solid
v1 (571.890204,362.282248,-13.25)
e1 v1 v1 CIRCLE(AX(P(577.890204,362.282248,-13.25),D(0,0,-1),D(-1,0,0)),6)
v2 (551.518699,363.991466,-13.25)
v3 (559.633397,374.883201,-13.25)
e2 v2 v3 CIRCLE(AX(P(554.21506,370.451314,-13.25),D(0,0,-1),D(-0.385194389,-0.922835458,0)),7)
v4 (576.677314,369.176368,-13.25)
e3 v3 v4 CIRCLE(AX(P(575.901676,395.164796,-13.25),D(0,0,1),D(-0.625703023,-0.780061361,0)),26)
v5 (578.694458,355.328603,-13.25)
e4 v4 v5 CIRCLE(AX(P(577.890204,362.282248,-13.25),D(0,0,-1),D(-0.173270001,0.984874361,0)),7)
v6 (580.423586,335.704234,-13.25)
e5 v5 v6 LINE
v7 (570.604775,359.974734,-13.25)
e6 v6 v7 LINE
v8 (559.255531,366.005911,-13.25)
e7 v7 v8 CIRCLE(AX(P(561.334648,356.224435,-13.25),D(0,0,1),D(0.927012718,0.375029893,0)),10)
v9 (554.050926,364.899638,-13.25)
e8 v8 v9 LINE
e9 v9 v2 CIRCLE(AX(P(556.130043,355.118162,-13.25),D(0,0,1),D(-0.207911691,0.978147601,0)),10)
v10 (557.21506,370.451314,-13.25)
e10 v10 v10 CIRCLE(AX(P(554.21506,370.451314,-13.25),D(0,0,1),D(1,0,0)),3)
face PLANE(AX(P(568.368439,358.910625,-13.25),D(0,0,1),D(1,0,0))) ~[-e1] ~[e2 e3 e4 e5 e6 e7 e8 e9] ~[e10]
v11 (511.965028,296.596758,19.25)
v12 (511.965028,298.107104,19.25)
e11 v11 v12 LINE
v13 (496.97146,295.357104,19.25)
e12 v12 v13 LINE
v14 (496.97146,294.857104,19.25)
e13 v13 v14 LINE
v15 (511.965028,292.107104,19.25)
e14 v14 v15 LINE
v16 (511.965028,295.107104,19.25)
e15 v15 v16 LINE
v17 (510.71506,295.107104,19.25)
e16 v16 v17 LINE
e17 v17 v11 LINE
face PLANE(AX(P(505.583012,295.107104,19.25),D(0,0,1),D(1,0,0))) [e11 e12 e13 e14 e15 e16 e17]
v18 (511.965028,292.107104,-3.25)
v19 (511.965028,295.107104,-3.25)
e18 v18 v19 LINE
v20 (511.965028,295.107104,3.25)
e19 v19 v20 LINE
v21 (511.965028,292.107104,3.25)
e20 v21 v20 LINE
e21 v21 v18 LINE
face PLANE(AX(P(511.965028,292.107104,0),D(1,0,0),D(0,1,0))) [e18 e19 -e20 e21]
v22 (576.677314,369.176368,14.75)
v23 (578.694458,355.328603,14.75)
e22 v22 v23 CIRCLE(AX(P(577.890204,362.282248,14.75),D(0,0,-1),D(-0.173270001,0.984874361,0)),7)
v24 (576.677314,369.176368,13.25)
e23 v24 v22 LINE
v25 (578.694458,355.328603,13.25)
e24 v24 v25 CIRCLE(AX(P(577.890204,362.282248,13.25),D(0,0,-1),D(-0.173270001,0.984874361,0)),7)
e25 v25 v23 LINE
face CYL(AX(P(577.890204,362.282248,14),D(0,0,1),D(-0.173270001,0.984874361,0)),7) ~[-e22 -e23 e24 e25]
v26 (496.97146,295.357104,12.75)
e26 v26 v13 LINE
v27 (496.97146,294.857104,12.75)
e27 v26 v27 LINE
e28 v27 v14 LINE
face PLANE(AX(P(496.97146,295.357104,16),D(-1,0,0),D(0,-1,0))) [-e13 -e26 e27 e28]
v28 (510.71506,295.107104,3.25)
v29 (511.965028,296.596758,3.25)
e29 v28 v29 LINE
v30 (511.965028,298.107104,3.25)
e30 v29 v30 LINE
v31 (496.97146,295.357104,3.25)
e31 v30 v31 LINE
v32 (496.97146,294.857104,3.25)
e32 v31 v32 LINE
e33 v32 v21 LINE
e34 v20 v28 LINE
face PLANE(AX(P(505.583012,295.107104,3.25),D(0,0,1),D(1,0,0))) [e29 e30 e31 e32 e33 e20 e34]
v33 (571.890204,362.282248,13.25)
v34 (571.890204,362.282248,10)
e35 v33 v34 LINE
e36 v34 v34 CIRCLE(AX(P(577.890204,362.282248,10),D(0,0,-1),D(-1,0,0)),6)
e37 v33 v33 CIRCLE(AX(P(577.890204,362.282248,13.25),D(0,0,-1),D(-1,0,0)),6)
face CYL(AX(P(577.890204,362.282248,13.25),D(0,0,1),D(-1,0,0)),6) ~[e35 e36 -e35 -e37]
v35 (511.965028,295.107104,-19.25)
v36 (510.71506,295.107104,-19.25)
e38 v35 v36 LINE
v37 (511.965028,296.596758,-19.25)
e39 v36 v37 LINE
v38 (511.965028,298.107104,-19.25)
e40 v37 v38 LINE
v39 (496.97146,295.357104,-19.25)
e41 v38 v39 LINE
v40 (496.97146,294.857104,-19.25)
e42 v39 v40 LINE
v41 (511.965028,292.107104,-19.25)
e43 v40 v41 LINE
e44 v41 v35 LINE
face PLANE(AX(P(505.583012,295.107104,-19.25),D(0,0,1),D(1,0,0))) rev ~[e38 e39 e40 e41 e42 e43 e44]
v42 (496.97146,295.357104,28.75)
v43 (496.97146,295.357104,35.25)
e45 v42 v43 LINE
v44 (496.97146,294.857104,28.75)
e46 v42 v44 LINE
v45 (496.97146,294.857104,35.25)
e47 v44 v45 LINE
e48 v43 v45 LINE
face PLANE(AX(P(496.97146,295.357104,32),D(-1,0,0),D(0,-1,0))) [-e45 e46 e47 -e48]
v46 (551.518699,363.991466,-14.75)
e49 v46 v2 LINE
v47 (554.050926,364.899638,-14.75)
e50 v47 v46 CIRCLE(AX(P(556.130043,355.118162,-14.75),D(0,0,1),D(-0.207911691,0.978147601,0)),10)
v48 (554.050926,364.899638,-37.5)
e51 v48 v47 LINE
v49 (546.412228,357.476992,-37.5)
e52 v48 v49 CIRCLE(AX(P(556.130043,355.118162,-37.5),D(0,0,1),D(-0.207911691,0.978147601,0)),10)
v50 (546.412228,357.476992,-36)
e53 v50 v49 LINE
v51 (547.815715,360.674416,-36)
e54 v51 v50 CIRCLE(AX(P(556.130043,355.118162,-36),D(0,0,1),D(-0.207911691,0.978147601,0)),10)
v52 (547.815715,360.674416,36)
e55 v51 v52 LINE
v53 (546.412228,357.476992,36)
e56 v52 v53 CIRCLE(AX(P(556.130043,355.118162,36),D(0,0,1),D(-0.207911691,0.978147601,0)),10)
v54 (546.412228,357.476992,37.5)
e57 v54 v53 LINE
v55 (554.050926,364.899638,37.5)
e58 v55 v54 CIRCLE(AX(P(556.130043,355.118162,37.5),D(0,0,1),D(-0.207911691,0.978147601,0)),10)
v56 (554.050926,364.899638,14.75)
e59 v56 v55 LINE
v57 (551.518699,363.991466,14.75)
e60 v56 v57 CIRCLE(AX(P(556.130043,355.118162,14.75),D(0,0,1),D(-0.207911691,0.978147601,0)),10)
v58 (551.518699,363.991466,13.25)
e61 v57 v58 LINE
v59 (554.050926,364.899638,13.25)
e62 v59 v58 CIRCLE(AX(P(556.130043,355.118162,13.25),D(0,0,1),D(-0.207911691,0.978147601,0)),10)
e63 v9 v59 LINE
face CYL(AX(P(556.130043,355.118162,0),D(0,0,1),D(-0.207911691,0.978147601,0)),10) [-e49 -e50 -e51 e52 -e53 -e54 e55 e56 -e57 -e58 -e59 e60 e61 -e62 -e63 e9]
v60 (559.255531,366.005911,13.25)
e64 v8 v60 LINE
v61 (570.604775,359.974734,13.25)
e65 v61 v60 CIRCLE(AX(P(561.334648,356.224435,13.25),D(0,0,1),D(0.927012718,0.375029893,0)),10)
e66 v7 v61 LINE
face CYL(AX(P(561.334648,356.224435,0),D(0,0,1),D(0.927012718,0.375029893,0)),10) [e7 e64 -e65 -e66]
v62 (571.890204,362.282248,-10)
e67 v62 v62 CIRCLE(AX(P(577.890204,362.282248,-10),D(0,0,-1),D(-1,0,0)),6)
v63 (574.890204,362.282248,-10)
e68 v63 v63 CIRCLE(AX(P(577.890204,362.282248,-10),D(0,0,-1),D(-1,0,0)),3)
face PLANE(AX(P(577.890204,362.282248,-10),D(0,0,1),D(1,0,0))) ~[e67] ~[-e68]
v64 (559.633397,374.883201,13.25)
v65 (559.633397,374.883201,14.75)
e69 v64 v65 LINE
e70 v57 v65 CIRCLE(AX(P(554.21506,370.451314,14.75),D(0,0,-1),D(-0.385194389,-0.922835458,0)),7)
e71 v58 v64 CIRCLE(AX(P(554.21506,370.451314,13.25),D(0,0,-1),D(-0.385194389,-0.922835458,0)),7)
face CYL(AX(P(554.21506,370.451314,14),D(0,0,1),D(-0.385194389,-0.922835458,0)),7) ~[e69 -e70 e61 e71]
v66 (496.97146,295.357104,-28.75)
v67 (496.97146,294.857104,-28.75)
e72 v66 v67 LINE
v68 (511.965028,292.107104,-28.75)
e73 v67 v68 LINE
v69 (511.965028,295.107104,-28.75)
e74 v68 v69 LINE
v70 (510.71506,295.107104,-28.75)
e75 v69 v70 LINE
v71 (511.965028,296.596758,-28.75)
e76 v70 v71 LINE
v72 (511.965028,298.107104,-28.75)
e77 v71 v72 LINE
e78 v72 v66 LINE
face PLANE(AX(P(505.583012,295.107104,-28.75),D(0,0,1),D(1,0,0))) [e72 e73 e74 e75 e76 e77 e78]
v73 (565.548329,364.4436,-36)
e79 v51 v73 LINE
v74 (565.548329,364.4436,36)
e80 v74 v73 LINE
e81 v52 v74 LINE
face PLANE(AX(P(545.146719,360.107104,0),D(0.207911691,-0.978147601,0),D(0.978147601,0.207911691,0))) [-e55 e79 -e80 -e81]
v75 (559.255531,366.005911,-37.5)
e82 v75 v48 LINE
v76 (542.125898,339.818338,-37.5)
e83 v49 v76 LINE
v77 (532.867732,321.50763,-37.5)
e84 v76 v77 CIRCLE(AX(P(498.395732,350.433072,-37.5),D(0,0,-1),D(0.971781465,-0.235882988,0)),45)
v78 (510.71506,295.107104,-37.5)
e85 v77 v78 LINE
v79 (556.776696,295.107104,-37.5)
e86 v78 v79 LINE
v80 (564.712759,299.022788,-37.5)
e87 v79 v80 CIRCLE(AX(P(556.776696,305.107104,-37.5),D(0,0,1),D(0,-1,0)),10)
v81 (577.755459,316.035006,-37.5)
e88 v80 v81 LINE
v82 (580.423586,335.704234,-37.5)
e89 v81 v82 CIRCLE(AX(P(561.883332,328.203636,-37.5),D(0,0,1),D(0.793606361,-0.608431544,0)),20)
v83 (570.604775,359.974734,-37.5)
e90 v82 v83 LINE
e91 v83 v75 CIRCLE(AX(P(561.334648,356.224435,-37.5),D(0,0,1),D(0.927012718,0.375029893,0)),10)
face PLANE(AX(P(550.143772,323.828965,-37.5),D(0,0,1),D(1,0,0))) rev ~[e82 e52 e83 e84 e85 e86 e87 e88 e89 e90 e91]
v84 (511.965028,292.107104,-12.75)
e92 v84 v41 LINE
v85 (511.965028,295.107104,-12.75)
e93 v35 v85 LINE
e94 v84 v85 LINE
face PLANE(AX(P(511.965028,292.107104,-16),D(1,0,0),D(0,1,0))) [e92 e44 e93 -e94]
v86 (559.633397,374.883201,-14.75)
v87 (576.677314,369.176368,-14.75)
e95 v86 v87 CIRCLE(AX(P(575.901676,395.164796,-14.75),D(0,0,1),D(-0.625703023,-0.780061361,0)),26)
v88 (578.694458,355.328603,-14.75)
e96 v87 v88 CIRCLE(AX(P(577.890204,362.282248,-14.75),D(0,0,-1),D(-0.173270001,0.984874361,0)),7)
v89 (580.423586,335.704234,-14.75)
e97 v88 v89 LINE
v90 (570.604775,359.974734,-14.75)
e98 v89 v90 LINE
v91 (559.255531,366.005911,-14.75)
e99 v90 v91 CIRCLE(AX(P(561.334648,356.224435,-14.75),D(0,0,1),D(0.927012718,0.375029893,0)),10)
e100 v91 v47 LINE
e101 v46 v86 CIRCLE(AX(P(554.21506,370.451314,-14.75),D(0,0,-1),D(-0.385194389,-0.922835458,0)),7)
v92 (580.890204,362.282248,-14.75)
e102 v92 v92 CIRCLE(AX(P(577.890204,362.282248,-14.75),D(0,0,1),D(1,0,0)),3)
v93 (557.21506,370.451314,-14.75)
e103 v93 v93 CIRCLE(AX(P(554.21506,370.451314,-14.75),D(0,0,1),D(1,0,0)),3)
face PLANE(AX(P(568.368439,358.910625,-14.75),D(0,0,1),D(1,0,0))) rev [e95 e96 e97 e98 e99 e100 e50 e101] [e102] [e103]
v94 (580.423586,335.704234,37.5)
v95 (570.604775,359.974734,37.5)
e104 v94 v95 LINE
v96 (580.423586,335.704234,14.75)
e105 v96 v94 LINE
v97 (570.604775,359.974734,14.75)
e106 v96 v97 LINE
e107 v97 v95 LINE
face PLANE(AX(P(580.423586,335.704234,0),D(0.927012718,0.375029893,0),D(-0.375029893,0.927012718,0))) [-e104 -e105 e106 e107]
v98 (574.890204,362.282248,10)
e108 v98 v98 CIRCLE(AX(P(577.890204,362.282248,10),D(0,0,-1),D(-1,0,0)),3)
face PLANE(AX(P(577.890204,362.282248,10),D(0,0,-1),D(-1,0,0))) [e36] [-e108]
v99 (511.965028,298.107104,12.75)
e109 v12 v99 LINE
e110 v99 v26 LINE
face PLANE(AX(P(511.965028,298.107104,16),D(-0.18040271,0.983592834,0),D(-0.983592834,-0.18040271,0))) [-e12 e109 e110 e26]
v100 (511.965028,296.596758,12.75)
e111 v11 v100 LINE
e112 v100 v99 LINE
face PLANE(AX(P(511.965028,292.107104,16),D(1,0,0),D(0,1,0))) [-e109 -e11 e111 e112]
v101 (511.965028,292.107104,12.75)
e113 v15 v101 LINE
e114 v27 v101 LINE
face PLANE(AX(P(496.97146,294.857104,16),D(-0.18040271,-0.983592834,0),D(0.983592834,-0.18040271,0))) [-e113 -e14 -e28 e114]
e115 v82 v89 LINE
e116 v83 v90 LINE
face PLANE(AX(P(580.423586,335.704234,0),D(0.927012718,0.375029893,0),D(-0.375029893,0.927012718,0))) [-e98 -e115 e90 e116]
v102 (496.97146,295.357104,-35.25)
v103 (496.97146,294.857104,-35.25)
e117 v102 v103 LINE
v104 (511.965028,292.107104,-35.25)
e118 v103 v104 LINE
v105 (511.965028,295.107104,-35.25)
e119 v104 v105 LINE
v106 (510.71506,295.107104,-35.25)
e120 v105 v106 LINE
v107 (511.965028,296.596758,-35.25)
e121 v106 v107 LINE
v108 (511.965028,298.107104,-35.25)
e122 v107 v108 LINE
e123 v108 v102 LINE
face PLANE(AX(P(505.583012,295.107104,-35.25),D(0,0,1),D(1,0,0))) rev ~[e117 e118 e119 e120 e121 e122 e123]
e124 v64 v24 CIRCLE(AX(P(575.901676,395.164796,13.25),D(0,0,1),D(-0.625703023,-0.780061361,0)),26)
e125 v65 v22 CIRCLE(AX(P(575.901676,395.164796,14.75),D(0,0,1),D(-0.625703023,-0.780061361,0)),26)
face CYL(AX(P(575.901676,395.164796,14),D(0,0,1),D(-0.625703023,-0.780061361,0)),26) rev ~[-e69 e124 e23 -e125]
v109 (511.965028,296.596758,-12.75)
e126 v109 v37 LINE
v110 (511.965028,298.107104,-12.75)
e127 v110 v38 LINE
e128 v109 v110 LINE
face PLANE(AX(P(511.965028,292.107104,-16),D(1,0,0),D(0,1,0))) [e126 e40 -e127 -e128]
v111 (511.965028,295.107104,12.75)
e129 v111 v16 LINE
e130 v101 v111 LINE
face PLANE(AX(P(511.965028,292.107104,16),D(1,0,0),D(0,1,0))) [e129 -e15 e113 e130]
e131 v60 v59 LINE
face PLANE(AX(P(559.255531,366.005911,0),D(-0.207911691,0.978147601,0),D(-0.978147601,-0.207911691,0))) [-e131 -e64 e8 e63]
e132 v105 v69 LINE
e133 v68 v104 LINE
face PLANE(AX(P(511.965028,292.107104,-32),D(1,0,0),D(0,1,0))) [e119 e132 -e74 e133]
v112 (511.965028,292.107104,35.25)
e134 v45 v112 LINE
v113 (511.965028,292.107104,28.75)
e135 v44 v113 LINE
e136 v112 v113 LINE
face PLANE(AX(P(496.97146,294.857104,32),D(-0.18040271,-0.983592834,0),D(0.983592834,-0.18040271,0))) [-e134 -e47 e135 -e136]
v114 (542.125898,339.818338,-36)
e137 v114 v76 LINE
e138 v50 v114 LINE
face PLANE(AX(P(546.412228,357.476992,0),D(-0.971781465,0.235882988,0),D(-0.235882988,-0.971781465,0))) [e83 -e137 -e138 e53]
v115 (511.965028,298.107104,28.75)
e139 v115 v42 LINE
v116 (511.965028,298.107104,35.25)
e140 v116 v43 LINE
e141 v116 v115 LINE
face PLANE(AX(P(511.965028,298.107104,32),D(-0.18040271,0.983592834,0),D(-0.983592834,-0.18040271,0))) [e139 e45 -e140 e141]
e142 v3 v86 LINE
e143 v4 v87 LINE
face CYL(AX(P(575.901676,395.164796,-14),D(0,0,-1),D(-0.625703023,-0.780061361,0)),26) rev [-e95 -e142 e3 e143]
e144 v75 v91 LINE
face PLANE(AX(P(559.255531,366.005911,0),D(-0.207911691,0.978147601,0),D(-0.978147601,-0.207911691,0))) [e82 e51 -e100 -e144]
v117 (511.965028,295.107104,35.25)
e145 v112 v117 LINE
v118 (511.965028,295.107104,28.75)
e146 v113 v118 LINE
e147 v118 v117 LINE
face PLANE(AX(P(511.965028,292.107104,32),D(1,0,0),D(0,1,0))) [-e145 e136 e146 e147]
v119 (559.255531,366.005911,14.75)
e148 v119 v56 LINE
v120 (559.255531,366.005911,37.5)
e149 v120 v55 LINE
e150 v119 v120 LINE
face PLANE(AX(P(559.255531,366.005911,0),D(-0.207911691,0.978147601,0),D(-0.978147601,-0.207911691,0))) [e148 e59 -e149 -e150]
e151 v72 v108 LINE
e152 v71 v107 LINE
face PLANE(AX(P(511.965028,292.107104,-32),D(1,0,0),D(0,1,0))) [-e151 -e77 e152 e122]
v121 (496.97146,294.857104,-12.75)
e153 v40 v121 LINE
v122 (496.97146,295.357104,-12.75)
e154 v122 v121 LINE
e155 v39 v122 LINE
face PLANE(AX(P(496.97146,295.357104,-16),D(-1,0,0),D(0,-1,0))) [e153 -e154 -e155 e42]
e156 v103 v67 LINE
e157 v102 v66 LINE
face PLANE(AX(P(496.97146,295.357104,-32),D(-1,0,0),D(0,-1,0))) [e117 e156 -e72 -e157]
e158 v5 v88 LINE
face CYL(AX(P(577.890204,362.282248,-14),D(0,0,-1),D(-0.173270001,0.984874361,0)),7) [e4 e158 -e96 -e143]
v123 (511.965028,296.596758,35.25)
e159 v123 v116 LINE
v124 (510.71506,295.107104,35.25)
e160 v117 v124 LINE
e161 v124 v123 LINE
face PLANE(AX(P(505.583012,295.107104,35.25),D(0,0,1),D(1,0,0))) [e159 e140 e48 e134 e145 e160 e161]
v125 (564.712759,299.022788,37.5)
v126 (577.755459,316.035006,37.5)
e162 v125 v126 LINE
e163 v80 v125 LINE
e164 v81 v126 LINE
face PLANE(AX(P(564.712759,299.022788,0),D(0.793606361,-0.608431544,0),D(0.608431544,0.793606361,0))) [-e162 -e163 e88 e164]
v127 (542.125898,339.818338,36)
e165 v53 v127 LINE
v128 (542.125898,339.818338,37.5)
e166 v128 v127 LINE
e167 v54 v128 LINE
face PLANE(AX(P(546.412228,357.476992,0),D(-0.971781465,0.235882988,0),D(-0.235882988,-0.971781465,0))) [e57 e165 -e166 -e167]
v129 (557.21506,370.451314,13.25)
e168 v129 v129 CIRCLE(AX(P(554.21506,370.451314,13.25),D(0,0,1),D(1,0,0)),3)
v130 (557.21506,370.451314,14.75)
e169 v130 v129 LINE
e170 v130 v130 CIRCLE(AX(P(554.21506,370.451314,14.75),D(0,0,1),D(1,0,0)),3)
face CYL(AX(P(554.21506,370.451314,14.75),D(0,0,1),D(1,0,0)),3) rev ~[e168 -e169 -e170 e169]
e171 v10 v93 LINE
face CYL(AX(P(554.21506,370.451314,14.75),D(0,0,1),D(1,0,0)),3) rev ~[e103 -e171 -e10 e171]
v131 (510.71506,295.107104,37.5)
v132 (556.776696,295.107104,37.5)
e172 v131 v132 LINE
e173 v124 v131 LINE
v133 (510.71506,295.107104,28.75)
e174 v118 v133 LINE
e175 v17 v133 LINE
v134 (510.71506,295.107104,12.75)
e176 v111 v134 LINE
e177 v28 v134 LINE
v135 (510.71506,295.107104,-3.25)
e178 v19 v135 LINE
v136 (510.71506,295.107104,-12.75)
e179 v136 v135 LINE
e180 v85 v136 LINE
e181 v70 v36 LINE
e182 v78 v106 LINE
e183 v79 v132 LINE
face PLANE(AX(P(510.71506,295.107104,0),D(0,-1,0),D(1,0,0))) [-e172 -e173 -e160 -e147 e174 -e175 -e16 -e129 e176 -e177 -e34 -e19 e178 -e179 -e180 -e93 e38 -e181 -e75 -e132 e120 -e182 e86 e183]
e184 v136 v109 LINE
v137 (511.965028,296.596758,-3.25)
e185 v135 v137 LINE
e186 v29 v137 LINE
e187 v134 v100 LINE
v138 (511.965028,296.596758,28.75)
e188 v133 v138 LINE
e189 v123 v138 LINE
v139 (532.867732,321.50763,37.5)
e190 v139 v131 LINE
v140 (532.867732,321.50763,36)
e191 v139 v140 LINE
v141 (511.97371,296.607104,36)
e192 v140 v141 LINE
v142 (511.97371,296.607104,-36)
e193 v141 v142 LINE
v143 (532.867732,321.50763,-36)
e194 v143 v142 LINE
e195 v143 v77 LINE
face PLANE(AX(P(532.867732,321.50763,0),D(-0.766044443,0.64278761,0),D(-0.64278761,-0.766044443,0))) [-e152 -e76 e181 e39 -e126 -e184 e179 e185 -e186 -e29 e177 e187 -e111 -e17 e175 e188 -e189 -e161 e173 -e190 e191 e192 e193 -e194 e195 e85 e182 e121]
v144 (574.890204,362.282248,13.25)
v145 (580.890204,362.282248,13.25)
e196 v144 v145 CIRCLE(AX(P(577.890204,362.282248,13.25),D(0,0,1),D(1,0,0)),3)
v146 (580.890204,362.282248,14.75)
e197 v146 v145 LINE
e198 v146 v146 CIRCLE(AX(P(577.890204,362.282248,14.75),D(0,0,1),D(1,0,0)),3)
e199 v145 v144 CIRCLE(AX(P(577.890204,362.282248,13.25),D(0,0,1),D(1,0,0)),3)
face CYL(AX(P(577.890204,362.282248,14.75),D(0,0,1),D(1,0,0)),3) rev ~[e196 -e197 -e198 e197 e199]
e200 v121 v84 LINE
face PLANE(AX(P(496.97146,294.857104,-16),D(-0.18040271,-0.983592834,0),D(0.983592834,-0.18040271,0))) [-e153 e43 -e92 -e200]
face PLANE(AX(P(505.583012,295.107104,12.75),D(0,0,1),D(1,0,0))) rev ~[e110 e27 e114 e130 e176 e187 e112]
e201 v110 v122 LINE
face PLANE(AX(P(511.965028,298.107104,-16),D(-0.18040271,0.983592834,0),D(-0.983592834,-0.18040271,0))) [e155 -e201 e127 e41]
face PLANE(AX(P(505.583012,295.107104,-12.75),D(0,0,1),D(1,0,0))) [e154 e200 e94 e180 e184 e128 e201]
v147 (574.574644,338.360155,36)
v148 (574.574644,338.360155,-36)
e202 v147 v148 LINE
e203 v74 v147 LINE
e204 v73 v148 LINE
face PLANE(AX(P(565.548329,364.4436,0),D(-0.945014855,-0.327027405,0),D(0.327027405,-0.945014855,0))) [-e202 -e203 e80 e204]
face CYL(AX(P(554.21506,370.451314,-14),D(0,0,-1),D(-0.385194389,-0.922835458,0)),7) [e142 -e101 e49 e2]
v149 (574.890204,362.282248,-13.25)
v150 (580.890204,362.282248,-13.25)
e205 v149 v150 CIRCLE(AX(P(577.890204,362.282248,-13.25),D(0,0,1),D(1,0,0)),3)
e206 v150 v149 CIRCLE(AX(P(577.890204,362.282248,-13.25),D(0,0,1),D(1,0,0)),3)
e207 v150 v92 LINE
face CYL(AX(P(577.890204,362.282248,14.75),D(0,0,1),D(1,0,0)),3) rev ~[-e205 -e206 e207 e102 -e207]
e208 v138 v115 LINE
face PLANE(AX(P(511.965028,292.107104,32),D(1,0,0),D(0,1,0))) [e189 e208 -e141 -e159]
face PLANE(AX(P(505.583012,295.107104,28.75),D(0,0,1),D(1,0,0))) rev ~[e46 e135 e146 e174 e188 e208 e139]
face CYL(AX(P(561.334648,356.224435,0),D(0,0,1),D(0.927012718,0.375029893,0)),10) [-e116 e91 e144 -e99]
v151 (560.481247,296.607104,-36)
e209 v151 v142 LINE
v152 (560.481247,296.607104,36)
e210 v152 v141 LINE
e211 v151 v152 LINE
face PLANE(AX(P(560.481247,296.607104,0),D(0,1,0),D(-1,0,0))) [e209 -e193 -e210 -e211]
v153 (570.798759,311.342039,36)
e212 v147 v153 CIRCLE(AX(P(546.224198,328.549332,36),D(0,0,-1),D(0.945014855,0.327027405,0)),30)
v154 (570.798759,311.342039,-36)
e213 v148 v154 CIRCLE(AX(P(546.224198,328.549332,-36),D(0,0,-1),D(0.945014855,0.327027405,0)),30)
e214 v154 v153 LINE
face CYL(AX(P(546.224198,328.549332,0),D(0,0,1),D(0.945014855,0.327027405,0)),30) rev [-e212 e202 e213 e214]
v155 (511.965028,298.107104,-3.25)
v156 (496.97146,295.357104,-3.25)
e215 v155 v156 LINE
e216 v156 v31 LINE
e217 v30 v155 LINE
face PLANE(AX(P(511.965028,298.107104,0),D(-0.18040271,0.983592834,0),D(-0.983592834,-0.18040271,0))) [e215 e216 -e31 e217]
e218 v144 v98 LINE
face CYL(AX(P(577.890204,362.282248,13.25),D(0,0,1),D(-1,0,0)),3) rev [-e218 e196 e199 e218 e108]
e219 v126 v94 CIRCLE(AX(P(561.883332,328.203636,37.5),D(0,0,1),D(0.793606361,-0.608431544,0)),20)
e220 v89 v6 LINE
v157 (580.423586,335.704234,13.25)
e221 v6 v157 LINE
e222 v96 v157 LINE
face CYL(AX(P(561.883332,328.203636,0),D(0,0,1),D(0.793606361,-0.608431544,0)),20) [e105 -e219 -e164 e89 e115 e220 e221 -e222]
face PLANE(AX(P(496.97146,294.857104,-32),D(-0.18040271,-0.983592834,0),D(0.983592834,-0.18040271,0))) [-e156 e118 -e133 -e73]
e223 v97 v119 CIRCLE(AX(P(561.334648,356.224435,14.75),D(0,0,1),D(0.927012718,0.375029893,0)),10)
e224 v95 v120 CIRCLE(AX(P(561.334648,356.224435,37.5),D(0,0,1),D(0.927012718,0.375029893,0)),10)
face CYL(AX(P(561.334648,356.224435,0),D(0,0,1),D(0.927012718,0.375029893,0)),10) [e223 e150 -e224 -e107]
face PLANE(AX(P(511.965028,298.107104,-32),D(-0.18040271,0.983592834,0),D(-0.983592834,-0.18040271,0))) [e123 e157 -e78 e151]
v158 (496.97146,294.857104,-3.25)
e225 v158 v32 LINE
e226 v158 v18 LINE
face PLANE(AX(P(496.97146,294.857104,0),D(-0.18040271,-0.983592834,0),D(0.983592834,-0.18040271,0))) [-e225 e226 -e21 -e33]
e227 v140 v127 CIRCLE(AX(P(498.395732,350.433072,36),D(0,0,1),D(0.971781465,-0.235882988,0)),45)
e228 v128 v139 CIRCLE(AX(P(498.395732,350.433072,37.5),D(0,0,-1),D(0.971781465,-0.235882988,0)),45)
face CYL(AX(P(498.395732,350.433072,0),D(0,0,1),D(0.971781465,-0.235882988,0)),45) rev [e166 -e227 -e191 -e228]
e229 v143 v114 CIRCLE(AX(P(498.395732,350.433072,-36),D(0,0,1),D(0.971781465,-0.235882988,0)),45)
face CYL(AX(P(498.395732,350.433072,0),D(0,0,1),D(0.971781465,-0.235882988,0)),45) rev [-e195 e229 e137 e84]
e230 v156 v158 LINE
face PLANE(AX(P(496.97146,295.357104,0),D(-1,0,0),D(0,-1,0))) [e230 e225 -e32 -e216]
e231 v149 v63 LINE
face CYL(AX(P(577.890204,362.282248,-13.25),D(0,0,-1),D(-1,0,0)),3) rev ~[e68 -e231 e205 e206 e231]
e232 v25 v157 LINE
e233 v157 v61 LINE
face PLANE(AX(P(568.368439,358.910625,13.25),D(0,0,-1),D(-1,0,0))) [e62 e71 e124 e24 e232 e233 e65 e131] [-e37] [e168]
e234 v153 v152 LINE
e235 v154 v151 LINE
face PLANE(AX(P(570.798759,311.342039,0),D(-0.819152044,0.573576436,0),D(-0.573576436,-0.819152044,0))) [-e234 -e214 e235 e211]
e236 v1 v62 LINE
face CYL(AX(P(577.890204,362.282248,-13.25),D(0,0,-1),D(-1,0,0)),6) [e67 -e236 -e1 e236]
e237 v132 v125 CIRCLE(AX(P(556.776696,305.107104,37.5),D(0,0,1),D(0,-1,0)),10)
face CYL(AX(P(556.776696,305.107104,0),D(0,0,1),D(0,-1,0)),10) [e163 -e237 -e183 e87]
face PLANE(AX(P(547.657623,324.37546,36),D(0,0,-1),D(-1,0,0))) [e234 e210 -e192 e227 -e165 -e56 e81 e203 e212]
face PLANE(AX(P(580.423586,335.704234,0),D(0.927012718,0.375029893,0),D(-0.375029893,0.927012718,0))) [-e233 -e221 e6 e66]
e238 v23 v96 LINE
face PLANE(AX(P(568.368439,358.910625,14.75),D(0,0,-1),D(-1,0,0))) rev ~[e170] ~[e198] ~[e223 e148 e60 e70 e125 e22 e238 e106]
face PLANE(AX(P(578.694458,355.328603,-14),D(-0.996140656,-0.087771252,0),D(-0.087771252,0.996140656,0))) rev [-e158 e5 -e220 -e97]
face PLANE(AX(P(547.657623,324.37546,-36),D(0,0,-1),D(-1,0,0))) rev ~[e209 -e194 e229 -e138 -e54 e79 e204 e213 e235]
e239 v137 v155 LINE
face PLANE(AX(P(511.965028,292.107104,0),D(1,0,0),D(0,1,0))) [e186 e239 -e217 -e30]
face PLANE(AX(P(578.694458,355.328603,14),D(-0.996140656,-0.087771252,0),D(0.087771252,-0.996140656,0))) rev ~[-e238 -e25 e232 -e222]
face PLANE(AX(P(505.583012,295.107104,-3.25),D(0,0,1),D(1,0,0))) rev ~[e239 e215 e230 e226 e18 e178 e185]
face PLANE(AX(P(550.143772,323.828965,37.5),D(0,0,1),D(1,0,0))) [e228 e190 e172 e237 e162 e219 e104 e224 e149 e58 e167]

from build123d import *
from build123d.topology import SkipClean

# Parameters (mm, degrees)
BOSS_EXTRUDE4_DEPTH  = 375
BOSS_EXTRUDE5_DEPTH  = 7.5
CUT_EXTRUDE1_DEPTH   = 360
BOSS_EXTRUDE6_DEPTH  = 32.5
LPATTERN1_COUNT      = 3
LPATTERN1_PITCH      = 160
LPATTERN1_COUNT_DIR2 = 3
LPATTERN1_PITCH_DIR2 = 160
SKETCH11_R           = 30
CUT_EXTRUDE2_DEPTH   = 1263.512529339
SKETCH12_R           = 60
SKETCH12_R_2         = 30
BOSS_EXTRUDE7_DEPTH  = 32.5
SCALE_1_SCALE        = 0.1


with BuildPart() as part:
    # Sketch1 → Boss-Extrude4 (new, symmetric)
    with BuildSketch(Plane.XY):
        with BuildLine():
            Line((281.569977344, 264.00526259), (60.043258876, 0))
            Line((60.043258876, 0), (520.65961219, 0))
            ThreePointArc((520.65961219, 0), (564.907123778, 10.321921752), (600.02024832, 39.156845634))
            Line((600.02024832, 39.156845634), (730.44724808, 209.279019234))
            ThreePointArc((730.44724808, 209.279019234), (769.910899903, 304.081580706), (757.128519442, 405.97130652))
            Line((757.128519442, 405.97130652), (658.940406775, 648.676304078))
            ThreePointArc((658.940406775, 648.676304078), (613.16613298, 699.478789474), (545.447965883, 708.988074874))
            Line((545.447965883, 708.988074874), (493.401915404, 697.925345336))
            ThreePointArc((493.401915404, 697.925345336), (444.503904969, 671.828213907), (417.014937982, 623.698884104))
            Line((417.014937982, 623.698884104), (374.151637205, 447.112342165))
            ThreePointArc((374.151637205, 447.112342165), (338.436231819, 350.211710608), (281.569977344, 264.00526259))
        make_face()
    extrude(amount=BOSS_EXTRUDE4_DEPTH, both=True)

    # Sketch6 → Boss-Extrude5 (add, symmetric)
    with BuildSketch(Plane.XY.offset(140)):
        with BuildLine():
            Line((739.837232288, 602.21499348), (757.128519442, 405.97130652))
            Line((757.128519442, 405.97130652), (468.079651675, 688.843619215))
            ThreePointArc((468.079651675, 688.843619215), (438.909700759, 795.263431413), (549.226629435, 797.76097261))
            ThreePointArc((549.226629435, 797.76097261), (629.357941615, 754.030269249), (719.665800913, 740.692647386))
            ThreePointArc((719.665800913, 740.692647386), (801.063667795, 681.841548153), (739.837232288, 602.21499348))
        make_face()
    boss_extrude5 = extrude(amount=BOSS_EXTRUDE5_DEPTH, both=True)

    # Mirror2: Boss-Extrude5 across plane
    add(boss_extrude5.mirror(Plane.XY))

    # Sketch7 → Cut-Extrude1 (cut, symmetric)
    with BuildSketch(Plane.XY):
        with BuildLine():
            Line((60.410578327, 15), (329.990480538, 400))
            Line((329.990480538, 400), (404.359842809, 650))
            Line((404.359842809, 650), (608.375948196, 693.364961886))
            Line((608.375948196, 693.364961886), (698.639094975, 432.530508414))
            ThreePointArc((698.639094975, 432.530508414), (712.247197771, 292.899677108), (660.880251772, 162.349355884))
            Line((660.880251772, 162.349355884), (557.705122032, 15))
            Line((557.705122032, 15), (60.410578327, 15))
        make_face()
    extrude(amount=CUT_EXTRUDE1_DEPTH, both=True, mode=Mode.SUBTRACT)

    # Sketch10 → Boss-Extrude6 (add, symmetric)
    with BuildSketch(Plane.XY):
        Polygon((72.542939803, 30), (-77.392739815, 2.5), (-77.392739815, -2.5), (72.542939803, -30), (72.542939803, 0), align=None)
    boss_extrude6 = extrude(amount=BOSS_EXTRUDE6_DEPTH, both=True)

    # LPattern1: Boss-Extrude6 3 × 3
    with Locations(*[Vector(0, 0, 1) * (i * LPATTERN1_PITCH) + Vector(0, 0, -1) * (j * LPATTERN1_PITCH_DIR2) for i in range(LPATTERN1_COUNT) for j in range(LPATTERN1_COUNT_DIR2) if (i, j) != (0, 0)]):
        add(boss_extrude6)

    # Sketch11 → Cut-Extrude2 (cut, through all)
    with BuildSketch(Plane.XY.offset(147.5)):
        with Locations((495.043258876, 753.442101292)):
            Circle(SKETCH11_R)
        with Locations((731.794701004, 671.751442127)):
            Circle(SKETCH11_R)
    extrude(amount=-CUT_EXTRUDE2_DEPTH, mode=Mode.SUBTRACT)

    # Sketch12 → Boss-Extrude7 (add)
    with SkipClean():  # the faces are left unmerged after this step: merging them gives an invalid solid
        with BuildSketch(Plane(origin=(0, 0, 132.5), x_dir=(-1, 0, 0), z_dir=(0, 0, -1))):
            with Locations((-731.794701004, 671.751442127)):
                Circle(SKETCH12_R)
            with Locations((-731.794701004, 671.751442127)):
                Circle(SKETCH12_R_2, mode=Mode.SUBTRACT)
        boss_extrude7 = extrude(amount=BOSS_EXTRUDE7_DEPTH)

    # Mirror3: Boss-Extrude7 across plane
    add(boss_extrude7.mirror(Plane.XY))


with BuildPart() as part_1:
    # 缩放比例1: scaled about (560.789704791, 327.896781874, 0)
    add(part.part.scale(SCALE_1_SCALE).moved(Location((504.710734312, 295.107103687, 0))))


solid = part_1.part
